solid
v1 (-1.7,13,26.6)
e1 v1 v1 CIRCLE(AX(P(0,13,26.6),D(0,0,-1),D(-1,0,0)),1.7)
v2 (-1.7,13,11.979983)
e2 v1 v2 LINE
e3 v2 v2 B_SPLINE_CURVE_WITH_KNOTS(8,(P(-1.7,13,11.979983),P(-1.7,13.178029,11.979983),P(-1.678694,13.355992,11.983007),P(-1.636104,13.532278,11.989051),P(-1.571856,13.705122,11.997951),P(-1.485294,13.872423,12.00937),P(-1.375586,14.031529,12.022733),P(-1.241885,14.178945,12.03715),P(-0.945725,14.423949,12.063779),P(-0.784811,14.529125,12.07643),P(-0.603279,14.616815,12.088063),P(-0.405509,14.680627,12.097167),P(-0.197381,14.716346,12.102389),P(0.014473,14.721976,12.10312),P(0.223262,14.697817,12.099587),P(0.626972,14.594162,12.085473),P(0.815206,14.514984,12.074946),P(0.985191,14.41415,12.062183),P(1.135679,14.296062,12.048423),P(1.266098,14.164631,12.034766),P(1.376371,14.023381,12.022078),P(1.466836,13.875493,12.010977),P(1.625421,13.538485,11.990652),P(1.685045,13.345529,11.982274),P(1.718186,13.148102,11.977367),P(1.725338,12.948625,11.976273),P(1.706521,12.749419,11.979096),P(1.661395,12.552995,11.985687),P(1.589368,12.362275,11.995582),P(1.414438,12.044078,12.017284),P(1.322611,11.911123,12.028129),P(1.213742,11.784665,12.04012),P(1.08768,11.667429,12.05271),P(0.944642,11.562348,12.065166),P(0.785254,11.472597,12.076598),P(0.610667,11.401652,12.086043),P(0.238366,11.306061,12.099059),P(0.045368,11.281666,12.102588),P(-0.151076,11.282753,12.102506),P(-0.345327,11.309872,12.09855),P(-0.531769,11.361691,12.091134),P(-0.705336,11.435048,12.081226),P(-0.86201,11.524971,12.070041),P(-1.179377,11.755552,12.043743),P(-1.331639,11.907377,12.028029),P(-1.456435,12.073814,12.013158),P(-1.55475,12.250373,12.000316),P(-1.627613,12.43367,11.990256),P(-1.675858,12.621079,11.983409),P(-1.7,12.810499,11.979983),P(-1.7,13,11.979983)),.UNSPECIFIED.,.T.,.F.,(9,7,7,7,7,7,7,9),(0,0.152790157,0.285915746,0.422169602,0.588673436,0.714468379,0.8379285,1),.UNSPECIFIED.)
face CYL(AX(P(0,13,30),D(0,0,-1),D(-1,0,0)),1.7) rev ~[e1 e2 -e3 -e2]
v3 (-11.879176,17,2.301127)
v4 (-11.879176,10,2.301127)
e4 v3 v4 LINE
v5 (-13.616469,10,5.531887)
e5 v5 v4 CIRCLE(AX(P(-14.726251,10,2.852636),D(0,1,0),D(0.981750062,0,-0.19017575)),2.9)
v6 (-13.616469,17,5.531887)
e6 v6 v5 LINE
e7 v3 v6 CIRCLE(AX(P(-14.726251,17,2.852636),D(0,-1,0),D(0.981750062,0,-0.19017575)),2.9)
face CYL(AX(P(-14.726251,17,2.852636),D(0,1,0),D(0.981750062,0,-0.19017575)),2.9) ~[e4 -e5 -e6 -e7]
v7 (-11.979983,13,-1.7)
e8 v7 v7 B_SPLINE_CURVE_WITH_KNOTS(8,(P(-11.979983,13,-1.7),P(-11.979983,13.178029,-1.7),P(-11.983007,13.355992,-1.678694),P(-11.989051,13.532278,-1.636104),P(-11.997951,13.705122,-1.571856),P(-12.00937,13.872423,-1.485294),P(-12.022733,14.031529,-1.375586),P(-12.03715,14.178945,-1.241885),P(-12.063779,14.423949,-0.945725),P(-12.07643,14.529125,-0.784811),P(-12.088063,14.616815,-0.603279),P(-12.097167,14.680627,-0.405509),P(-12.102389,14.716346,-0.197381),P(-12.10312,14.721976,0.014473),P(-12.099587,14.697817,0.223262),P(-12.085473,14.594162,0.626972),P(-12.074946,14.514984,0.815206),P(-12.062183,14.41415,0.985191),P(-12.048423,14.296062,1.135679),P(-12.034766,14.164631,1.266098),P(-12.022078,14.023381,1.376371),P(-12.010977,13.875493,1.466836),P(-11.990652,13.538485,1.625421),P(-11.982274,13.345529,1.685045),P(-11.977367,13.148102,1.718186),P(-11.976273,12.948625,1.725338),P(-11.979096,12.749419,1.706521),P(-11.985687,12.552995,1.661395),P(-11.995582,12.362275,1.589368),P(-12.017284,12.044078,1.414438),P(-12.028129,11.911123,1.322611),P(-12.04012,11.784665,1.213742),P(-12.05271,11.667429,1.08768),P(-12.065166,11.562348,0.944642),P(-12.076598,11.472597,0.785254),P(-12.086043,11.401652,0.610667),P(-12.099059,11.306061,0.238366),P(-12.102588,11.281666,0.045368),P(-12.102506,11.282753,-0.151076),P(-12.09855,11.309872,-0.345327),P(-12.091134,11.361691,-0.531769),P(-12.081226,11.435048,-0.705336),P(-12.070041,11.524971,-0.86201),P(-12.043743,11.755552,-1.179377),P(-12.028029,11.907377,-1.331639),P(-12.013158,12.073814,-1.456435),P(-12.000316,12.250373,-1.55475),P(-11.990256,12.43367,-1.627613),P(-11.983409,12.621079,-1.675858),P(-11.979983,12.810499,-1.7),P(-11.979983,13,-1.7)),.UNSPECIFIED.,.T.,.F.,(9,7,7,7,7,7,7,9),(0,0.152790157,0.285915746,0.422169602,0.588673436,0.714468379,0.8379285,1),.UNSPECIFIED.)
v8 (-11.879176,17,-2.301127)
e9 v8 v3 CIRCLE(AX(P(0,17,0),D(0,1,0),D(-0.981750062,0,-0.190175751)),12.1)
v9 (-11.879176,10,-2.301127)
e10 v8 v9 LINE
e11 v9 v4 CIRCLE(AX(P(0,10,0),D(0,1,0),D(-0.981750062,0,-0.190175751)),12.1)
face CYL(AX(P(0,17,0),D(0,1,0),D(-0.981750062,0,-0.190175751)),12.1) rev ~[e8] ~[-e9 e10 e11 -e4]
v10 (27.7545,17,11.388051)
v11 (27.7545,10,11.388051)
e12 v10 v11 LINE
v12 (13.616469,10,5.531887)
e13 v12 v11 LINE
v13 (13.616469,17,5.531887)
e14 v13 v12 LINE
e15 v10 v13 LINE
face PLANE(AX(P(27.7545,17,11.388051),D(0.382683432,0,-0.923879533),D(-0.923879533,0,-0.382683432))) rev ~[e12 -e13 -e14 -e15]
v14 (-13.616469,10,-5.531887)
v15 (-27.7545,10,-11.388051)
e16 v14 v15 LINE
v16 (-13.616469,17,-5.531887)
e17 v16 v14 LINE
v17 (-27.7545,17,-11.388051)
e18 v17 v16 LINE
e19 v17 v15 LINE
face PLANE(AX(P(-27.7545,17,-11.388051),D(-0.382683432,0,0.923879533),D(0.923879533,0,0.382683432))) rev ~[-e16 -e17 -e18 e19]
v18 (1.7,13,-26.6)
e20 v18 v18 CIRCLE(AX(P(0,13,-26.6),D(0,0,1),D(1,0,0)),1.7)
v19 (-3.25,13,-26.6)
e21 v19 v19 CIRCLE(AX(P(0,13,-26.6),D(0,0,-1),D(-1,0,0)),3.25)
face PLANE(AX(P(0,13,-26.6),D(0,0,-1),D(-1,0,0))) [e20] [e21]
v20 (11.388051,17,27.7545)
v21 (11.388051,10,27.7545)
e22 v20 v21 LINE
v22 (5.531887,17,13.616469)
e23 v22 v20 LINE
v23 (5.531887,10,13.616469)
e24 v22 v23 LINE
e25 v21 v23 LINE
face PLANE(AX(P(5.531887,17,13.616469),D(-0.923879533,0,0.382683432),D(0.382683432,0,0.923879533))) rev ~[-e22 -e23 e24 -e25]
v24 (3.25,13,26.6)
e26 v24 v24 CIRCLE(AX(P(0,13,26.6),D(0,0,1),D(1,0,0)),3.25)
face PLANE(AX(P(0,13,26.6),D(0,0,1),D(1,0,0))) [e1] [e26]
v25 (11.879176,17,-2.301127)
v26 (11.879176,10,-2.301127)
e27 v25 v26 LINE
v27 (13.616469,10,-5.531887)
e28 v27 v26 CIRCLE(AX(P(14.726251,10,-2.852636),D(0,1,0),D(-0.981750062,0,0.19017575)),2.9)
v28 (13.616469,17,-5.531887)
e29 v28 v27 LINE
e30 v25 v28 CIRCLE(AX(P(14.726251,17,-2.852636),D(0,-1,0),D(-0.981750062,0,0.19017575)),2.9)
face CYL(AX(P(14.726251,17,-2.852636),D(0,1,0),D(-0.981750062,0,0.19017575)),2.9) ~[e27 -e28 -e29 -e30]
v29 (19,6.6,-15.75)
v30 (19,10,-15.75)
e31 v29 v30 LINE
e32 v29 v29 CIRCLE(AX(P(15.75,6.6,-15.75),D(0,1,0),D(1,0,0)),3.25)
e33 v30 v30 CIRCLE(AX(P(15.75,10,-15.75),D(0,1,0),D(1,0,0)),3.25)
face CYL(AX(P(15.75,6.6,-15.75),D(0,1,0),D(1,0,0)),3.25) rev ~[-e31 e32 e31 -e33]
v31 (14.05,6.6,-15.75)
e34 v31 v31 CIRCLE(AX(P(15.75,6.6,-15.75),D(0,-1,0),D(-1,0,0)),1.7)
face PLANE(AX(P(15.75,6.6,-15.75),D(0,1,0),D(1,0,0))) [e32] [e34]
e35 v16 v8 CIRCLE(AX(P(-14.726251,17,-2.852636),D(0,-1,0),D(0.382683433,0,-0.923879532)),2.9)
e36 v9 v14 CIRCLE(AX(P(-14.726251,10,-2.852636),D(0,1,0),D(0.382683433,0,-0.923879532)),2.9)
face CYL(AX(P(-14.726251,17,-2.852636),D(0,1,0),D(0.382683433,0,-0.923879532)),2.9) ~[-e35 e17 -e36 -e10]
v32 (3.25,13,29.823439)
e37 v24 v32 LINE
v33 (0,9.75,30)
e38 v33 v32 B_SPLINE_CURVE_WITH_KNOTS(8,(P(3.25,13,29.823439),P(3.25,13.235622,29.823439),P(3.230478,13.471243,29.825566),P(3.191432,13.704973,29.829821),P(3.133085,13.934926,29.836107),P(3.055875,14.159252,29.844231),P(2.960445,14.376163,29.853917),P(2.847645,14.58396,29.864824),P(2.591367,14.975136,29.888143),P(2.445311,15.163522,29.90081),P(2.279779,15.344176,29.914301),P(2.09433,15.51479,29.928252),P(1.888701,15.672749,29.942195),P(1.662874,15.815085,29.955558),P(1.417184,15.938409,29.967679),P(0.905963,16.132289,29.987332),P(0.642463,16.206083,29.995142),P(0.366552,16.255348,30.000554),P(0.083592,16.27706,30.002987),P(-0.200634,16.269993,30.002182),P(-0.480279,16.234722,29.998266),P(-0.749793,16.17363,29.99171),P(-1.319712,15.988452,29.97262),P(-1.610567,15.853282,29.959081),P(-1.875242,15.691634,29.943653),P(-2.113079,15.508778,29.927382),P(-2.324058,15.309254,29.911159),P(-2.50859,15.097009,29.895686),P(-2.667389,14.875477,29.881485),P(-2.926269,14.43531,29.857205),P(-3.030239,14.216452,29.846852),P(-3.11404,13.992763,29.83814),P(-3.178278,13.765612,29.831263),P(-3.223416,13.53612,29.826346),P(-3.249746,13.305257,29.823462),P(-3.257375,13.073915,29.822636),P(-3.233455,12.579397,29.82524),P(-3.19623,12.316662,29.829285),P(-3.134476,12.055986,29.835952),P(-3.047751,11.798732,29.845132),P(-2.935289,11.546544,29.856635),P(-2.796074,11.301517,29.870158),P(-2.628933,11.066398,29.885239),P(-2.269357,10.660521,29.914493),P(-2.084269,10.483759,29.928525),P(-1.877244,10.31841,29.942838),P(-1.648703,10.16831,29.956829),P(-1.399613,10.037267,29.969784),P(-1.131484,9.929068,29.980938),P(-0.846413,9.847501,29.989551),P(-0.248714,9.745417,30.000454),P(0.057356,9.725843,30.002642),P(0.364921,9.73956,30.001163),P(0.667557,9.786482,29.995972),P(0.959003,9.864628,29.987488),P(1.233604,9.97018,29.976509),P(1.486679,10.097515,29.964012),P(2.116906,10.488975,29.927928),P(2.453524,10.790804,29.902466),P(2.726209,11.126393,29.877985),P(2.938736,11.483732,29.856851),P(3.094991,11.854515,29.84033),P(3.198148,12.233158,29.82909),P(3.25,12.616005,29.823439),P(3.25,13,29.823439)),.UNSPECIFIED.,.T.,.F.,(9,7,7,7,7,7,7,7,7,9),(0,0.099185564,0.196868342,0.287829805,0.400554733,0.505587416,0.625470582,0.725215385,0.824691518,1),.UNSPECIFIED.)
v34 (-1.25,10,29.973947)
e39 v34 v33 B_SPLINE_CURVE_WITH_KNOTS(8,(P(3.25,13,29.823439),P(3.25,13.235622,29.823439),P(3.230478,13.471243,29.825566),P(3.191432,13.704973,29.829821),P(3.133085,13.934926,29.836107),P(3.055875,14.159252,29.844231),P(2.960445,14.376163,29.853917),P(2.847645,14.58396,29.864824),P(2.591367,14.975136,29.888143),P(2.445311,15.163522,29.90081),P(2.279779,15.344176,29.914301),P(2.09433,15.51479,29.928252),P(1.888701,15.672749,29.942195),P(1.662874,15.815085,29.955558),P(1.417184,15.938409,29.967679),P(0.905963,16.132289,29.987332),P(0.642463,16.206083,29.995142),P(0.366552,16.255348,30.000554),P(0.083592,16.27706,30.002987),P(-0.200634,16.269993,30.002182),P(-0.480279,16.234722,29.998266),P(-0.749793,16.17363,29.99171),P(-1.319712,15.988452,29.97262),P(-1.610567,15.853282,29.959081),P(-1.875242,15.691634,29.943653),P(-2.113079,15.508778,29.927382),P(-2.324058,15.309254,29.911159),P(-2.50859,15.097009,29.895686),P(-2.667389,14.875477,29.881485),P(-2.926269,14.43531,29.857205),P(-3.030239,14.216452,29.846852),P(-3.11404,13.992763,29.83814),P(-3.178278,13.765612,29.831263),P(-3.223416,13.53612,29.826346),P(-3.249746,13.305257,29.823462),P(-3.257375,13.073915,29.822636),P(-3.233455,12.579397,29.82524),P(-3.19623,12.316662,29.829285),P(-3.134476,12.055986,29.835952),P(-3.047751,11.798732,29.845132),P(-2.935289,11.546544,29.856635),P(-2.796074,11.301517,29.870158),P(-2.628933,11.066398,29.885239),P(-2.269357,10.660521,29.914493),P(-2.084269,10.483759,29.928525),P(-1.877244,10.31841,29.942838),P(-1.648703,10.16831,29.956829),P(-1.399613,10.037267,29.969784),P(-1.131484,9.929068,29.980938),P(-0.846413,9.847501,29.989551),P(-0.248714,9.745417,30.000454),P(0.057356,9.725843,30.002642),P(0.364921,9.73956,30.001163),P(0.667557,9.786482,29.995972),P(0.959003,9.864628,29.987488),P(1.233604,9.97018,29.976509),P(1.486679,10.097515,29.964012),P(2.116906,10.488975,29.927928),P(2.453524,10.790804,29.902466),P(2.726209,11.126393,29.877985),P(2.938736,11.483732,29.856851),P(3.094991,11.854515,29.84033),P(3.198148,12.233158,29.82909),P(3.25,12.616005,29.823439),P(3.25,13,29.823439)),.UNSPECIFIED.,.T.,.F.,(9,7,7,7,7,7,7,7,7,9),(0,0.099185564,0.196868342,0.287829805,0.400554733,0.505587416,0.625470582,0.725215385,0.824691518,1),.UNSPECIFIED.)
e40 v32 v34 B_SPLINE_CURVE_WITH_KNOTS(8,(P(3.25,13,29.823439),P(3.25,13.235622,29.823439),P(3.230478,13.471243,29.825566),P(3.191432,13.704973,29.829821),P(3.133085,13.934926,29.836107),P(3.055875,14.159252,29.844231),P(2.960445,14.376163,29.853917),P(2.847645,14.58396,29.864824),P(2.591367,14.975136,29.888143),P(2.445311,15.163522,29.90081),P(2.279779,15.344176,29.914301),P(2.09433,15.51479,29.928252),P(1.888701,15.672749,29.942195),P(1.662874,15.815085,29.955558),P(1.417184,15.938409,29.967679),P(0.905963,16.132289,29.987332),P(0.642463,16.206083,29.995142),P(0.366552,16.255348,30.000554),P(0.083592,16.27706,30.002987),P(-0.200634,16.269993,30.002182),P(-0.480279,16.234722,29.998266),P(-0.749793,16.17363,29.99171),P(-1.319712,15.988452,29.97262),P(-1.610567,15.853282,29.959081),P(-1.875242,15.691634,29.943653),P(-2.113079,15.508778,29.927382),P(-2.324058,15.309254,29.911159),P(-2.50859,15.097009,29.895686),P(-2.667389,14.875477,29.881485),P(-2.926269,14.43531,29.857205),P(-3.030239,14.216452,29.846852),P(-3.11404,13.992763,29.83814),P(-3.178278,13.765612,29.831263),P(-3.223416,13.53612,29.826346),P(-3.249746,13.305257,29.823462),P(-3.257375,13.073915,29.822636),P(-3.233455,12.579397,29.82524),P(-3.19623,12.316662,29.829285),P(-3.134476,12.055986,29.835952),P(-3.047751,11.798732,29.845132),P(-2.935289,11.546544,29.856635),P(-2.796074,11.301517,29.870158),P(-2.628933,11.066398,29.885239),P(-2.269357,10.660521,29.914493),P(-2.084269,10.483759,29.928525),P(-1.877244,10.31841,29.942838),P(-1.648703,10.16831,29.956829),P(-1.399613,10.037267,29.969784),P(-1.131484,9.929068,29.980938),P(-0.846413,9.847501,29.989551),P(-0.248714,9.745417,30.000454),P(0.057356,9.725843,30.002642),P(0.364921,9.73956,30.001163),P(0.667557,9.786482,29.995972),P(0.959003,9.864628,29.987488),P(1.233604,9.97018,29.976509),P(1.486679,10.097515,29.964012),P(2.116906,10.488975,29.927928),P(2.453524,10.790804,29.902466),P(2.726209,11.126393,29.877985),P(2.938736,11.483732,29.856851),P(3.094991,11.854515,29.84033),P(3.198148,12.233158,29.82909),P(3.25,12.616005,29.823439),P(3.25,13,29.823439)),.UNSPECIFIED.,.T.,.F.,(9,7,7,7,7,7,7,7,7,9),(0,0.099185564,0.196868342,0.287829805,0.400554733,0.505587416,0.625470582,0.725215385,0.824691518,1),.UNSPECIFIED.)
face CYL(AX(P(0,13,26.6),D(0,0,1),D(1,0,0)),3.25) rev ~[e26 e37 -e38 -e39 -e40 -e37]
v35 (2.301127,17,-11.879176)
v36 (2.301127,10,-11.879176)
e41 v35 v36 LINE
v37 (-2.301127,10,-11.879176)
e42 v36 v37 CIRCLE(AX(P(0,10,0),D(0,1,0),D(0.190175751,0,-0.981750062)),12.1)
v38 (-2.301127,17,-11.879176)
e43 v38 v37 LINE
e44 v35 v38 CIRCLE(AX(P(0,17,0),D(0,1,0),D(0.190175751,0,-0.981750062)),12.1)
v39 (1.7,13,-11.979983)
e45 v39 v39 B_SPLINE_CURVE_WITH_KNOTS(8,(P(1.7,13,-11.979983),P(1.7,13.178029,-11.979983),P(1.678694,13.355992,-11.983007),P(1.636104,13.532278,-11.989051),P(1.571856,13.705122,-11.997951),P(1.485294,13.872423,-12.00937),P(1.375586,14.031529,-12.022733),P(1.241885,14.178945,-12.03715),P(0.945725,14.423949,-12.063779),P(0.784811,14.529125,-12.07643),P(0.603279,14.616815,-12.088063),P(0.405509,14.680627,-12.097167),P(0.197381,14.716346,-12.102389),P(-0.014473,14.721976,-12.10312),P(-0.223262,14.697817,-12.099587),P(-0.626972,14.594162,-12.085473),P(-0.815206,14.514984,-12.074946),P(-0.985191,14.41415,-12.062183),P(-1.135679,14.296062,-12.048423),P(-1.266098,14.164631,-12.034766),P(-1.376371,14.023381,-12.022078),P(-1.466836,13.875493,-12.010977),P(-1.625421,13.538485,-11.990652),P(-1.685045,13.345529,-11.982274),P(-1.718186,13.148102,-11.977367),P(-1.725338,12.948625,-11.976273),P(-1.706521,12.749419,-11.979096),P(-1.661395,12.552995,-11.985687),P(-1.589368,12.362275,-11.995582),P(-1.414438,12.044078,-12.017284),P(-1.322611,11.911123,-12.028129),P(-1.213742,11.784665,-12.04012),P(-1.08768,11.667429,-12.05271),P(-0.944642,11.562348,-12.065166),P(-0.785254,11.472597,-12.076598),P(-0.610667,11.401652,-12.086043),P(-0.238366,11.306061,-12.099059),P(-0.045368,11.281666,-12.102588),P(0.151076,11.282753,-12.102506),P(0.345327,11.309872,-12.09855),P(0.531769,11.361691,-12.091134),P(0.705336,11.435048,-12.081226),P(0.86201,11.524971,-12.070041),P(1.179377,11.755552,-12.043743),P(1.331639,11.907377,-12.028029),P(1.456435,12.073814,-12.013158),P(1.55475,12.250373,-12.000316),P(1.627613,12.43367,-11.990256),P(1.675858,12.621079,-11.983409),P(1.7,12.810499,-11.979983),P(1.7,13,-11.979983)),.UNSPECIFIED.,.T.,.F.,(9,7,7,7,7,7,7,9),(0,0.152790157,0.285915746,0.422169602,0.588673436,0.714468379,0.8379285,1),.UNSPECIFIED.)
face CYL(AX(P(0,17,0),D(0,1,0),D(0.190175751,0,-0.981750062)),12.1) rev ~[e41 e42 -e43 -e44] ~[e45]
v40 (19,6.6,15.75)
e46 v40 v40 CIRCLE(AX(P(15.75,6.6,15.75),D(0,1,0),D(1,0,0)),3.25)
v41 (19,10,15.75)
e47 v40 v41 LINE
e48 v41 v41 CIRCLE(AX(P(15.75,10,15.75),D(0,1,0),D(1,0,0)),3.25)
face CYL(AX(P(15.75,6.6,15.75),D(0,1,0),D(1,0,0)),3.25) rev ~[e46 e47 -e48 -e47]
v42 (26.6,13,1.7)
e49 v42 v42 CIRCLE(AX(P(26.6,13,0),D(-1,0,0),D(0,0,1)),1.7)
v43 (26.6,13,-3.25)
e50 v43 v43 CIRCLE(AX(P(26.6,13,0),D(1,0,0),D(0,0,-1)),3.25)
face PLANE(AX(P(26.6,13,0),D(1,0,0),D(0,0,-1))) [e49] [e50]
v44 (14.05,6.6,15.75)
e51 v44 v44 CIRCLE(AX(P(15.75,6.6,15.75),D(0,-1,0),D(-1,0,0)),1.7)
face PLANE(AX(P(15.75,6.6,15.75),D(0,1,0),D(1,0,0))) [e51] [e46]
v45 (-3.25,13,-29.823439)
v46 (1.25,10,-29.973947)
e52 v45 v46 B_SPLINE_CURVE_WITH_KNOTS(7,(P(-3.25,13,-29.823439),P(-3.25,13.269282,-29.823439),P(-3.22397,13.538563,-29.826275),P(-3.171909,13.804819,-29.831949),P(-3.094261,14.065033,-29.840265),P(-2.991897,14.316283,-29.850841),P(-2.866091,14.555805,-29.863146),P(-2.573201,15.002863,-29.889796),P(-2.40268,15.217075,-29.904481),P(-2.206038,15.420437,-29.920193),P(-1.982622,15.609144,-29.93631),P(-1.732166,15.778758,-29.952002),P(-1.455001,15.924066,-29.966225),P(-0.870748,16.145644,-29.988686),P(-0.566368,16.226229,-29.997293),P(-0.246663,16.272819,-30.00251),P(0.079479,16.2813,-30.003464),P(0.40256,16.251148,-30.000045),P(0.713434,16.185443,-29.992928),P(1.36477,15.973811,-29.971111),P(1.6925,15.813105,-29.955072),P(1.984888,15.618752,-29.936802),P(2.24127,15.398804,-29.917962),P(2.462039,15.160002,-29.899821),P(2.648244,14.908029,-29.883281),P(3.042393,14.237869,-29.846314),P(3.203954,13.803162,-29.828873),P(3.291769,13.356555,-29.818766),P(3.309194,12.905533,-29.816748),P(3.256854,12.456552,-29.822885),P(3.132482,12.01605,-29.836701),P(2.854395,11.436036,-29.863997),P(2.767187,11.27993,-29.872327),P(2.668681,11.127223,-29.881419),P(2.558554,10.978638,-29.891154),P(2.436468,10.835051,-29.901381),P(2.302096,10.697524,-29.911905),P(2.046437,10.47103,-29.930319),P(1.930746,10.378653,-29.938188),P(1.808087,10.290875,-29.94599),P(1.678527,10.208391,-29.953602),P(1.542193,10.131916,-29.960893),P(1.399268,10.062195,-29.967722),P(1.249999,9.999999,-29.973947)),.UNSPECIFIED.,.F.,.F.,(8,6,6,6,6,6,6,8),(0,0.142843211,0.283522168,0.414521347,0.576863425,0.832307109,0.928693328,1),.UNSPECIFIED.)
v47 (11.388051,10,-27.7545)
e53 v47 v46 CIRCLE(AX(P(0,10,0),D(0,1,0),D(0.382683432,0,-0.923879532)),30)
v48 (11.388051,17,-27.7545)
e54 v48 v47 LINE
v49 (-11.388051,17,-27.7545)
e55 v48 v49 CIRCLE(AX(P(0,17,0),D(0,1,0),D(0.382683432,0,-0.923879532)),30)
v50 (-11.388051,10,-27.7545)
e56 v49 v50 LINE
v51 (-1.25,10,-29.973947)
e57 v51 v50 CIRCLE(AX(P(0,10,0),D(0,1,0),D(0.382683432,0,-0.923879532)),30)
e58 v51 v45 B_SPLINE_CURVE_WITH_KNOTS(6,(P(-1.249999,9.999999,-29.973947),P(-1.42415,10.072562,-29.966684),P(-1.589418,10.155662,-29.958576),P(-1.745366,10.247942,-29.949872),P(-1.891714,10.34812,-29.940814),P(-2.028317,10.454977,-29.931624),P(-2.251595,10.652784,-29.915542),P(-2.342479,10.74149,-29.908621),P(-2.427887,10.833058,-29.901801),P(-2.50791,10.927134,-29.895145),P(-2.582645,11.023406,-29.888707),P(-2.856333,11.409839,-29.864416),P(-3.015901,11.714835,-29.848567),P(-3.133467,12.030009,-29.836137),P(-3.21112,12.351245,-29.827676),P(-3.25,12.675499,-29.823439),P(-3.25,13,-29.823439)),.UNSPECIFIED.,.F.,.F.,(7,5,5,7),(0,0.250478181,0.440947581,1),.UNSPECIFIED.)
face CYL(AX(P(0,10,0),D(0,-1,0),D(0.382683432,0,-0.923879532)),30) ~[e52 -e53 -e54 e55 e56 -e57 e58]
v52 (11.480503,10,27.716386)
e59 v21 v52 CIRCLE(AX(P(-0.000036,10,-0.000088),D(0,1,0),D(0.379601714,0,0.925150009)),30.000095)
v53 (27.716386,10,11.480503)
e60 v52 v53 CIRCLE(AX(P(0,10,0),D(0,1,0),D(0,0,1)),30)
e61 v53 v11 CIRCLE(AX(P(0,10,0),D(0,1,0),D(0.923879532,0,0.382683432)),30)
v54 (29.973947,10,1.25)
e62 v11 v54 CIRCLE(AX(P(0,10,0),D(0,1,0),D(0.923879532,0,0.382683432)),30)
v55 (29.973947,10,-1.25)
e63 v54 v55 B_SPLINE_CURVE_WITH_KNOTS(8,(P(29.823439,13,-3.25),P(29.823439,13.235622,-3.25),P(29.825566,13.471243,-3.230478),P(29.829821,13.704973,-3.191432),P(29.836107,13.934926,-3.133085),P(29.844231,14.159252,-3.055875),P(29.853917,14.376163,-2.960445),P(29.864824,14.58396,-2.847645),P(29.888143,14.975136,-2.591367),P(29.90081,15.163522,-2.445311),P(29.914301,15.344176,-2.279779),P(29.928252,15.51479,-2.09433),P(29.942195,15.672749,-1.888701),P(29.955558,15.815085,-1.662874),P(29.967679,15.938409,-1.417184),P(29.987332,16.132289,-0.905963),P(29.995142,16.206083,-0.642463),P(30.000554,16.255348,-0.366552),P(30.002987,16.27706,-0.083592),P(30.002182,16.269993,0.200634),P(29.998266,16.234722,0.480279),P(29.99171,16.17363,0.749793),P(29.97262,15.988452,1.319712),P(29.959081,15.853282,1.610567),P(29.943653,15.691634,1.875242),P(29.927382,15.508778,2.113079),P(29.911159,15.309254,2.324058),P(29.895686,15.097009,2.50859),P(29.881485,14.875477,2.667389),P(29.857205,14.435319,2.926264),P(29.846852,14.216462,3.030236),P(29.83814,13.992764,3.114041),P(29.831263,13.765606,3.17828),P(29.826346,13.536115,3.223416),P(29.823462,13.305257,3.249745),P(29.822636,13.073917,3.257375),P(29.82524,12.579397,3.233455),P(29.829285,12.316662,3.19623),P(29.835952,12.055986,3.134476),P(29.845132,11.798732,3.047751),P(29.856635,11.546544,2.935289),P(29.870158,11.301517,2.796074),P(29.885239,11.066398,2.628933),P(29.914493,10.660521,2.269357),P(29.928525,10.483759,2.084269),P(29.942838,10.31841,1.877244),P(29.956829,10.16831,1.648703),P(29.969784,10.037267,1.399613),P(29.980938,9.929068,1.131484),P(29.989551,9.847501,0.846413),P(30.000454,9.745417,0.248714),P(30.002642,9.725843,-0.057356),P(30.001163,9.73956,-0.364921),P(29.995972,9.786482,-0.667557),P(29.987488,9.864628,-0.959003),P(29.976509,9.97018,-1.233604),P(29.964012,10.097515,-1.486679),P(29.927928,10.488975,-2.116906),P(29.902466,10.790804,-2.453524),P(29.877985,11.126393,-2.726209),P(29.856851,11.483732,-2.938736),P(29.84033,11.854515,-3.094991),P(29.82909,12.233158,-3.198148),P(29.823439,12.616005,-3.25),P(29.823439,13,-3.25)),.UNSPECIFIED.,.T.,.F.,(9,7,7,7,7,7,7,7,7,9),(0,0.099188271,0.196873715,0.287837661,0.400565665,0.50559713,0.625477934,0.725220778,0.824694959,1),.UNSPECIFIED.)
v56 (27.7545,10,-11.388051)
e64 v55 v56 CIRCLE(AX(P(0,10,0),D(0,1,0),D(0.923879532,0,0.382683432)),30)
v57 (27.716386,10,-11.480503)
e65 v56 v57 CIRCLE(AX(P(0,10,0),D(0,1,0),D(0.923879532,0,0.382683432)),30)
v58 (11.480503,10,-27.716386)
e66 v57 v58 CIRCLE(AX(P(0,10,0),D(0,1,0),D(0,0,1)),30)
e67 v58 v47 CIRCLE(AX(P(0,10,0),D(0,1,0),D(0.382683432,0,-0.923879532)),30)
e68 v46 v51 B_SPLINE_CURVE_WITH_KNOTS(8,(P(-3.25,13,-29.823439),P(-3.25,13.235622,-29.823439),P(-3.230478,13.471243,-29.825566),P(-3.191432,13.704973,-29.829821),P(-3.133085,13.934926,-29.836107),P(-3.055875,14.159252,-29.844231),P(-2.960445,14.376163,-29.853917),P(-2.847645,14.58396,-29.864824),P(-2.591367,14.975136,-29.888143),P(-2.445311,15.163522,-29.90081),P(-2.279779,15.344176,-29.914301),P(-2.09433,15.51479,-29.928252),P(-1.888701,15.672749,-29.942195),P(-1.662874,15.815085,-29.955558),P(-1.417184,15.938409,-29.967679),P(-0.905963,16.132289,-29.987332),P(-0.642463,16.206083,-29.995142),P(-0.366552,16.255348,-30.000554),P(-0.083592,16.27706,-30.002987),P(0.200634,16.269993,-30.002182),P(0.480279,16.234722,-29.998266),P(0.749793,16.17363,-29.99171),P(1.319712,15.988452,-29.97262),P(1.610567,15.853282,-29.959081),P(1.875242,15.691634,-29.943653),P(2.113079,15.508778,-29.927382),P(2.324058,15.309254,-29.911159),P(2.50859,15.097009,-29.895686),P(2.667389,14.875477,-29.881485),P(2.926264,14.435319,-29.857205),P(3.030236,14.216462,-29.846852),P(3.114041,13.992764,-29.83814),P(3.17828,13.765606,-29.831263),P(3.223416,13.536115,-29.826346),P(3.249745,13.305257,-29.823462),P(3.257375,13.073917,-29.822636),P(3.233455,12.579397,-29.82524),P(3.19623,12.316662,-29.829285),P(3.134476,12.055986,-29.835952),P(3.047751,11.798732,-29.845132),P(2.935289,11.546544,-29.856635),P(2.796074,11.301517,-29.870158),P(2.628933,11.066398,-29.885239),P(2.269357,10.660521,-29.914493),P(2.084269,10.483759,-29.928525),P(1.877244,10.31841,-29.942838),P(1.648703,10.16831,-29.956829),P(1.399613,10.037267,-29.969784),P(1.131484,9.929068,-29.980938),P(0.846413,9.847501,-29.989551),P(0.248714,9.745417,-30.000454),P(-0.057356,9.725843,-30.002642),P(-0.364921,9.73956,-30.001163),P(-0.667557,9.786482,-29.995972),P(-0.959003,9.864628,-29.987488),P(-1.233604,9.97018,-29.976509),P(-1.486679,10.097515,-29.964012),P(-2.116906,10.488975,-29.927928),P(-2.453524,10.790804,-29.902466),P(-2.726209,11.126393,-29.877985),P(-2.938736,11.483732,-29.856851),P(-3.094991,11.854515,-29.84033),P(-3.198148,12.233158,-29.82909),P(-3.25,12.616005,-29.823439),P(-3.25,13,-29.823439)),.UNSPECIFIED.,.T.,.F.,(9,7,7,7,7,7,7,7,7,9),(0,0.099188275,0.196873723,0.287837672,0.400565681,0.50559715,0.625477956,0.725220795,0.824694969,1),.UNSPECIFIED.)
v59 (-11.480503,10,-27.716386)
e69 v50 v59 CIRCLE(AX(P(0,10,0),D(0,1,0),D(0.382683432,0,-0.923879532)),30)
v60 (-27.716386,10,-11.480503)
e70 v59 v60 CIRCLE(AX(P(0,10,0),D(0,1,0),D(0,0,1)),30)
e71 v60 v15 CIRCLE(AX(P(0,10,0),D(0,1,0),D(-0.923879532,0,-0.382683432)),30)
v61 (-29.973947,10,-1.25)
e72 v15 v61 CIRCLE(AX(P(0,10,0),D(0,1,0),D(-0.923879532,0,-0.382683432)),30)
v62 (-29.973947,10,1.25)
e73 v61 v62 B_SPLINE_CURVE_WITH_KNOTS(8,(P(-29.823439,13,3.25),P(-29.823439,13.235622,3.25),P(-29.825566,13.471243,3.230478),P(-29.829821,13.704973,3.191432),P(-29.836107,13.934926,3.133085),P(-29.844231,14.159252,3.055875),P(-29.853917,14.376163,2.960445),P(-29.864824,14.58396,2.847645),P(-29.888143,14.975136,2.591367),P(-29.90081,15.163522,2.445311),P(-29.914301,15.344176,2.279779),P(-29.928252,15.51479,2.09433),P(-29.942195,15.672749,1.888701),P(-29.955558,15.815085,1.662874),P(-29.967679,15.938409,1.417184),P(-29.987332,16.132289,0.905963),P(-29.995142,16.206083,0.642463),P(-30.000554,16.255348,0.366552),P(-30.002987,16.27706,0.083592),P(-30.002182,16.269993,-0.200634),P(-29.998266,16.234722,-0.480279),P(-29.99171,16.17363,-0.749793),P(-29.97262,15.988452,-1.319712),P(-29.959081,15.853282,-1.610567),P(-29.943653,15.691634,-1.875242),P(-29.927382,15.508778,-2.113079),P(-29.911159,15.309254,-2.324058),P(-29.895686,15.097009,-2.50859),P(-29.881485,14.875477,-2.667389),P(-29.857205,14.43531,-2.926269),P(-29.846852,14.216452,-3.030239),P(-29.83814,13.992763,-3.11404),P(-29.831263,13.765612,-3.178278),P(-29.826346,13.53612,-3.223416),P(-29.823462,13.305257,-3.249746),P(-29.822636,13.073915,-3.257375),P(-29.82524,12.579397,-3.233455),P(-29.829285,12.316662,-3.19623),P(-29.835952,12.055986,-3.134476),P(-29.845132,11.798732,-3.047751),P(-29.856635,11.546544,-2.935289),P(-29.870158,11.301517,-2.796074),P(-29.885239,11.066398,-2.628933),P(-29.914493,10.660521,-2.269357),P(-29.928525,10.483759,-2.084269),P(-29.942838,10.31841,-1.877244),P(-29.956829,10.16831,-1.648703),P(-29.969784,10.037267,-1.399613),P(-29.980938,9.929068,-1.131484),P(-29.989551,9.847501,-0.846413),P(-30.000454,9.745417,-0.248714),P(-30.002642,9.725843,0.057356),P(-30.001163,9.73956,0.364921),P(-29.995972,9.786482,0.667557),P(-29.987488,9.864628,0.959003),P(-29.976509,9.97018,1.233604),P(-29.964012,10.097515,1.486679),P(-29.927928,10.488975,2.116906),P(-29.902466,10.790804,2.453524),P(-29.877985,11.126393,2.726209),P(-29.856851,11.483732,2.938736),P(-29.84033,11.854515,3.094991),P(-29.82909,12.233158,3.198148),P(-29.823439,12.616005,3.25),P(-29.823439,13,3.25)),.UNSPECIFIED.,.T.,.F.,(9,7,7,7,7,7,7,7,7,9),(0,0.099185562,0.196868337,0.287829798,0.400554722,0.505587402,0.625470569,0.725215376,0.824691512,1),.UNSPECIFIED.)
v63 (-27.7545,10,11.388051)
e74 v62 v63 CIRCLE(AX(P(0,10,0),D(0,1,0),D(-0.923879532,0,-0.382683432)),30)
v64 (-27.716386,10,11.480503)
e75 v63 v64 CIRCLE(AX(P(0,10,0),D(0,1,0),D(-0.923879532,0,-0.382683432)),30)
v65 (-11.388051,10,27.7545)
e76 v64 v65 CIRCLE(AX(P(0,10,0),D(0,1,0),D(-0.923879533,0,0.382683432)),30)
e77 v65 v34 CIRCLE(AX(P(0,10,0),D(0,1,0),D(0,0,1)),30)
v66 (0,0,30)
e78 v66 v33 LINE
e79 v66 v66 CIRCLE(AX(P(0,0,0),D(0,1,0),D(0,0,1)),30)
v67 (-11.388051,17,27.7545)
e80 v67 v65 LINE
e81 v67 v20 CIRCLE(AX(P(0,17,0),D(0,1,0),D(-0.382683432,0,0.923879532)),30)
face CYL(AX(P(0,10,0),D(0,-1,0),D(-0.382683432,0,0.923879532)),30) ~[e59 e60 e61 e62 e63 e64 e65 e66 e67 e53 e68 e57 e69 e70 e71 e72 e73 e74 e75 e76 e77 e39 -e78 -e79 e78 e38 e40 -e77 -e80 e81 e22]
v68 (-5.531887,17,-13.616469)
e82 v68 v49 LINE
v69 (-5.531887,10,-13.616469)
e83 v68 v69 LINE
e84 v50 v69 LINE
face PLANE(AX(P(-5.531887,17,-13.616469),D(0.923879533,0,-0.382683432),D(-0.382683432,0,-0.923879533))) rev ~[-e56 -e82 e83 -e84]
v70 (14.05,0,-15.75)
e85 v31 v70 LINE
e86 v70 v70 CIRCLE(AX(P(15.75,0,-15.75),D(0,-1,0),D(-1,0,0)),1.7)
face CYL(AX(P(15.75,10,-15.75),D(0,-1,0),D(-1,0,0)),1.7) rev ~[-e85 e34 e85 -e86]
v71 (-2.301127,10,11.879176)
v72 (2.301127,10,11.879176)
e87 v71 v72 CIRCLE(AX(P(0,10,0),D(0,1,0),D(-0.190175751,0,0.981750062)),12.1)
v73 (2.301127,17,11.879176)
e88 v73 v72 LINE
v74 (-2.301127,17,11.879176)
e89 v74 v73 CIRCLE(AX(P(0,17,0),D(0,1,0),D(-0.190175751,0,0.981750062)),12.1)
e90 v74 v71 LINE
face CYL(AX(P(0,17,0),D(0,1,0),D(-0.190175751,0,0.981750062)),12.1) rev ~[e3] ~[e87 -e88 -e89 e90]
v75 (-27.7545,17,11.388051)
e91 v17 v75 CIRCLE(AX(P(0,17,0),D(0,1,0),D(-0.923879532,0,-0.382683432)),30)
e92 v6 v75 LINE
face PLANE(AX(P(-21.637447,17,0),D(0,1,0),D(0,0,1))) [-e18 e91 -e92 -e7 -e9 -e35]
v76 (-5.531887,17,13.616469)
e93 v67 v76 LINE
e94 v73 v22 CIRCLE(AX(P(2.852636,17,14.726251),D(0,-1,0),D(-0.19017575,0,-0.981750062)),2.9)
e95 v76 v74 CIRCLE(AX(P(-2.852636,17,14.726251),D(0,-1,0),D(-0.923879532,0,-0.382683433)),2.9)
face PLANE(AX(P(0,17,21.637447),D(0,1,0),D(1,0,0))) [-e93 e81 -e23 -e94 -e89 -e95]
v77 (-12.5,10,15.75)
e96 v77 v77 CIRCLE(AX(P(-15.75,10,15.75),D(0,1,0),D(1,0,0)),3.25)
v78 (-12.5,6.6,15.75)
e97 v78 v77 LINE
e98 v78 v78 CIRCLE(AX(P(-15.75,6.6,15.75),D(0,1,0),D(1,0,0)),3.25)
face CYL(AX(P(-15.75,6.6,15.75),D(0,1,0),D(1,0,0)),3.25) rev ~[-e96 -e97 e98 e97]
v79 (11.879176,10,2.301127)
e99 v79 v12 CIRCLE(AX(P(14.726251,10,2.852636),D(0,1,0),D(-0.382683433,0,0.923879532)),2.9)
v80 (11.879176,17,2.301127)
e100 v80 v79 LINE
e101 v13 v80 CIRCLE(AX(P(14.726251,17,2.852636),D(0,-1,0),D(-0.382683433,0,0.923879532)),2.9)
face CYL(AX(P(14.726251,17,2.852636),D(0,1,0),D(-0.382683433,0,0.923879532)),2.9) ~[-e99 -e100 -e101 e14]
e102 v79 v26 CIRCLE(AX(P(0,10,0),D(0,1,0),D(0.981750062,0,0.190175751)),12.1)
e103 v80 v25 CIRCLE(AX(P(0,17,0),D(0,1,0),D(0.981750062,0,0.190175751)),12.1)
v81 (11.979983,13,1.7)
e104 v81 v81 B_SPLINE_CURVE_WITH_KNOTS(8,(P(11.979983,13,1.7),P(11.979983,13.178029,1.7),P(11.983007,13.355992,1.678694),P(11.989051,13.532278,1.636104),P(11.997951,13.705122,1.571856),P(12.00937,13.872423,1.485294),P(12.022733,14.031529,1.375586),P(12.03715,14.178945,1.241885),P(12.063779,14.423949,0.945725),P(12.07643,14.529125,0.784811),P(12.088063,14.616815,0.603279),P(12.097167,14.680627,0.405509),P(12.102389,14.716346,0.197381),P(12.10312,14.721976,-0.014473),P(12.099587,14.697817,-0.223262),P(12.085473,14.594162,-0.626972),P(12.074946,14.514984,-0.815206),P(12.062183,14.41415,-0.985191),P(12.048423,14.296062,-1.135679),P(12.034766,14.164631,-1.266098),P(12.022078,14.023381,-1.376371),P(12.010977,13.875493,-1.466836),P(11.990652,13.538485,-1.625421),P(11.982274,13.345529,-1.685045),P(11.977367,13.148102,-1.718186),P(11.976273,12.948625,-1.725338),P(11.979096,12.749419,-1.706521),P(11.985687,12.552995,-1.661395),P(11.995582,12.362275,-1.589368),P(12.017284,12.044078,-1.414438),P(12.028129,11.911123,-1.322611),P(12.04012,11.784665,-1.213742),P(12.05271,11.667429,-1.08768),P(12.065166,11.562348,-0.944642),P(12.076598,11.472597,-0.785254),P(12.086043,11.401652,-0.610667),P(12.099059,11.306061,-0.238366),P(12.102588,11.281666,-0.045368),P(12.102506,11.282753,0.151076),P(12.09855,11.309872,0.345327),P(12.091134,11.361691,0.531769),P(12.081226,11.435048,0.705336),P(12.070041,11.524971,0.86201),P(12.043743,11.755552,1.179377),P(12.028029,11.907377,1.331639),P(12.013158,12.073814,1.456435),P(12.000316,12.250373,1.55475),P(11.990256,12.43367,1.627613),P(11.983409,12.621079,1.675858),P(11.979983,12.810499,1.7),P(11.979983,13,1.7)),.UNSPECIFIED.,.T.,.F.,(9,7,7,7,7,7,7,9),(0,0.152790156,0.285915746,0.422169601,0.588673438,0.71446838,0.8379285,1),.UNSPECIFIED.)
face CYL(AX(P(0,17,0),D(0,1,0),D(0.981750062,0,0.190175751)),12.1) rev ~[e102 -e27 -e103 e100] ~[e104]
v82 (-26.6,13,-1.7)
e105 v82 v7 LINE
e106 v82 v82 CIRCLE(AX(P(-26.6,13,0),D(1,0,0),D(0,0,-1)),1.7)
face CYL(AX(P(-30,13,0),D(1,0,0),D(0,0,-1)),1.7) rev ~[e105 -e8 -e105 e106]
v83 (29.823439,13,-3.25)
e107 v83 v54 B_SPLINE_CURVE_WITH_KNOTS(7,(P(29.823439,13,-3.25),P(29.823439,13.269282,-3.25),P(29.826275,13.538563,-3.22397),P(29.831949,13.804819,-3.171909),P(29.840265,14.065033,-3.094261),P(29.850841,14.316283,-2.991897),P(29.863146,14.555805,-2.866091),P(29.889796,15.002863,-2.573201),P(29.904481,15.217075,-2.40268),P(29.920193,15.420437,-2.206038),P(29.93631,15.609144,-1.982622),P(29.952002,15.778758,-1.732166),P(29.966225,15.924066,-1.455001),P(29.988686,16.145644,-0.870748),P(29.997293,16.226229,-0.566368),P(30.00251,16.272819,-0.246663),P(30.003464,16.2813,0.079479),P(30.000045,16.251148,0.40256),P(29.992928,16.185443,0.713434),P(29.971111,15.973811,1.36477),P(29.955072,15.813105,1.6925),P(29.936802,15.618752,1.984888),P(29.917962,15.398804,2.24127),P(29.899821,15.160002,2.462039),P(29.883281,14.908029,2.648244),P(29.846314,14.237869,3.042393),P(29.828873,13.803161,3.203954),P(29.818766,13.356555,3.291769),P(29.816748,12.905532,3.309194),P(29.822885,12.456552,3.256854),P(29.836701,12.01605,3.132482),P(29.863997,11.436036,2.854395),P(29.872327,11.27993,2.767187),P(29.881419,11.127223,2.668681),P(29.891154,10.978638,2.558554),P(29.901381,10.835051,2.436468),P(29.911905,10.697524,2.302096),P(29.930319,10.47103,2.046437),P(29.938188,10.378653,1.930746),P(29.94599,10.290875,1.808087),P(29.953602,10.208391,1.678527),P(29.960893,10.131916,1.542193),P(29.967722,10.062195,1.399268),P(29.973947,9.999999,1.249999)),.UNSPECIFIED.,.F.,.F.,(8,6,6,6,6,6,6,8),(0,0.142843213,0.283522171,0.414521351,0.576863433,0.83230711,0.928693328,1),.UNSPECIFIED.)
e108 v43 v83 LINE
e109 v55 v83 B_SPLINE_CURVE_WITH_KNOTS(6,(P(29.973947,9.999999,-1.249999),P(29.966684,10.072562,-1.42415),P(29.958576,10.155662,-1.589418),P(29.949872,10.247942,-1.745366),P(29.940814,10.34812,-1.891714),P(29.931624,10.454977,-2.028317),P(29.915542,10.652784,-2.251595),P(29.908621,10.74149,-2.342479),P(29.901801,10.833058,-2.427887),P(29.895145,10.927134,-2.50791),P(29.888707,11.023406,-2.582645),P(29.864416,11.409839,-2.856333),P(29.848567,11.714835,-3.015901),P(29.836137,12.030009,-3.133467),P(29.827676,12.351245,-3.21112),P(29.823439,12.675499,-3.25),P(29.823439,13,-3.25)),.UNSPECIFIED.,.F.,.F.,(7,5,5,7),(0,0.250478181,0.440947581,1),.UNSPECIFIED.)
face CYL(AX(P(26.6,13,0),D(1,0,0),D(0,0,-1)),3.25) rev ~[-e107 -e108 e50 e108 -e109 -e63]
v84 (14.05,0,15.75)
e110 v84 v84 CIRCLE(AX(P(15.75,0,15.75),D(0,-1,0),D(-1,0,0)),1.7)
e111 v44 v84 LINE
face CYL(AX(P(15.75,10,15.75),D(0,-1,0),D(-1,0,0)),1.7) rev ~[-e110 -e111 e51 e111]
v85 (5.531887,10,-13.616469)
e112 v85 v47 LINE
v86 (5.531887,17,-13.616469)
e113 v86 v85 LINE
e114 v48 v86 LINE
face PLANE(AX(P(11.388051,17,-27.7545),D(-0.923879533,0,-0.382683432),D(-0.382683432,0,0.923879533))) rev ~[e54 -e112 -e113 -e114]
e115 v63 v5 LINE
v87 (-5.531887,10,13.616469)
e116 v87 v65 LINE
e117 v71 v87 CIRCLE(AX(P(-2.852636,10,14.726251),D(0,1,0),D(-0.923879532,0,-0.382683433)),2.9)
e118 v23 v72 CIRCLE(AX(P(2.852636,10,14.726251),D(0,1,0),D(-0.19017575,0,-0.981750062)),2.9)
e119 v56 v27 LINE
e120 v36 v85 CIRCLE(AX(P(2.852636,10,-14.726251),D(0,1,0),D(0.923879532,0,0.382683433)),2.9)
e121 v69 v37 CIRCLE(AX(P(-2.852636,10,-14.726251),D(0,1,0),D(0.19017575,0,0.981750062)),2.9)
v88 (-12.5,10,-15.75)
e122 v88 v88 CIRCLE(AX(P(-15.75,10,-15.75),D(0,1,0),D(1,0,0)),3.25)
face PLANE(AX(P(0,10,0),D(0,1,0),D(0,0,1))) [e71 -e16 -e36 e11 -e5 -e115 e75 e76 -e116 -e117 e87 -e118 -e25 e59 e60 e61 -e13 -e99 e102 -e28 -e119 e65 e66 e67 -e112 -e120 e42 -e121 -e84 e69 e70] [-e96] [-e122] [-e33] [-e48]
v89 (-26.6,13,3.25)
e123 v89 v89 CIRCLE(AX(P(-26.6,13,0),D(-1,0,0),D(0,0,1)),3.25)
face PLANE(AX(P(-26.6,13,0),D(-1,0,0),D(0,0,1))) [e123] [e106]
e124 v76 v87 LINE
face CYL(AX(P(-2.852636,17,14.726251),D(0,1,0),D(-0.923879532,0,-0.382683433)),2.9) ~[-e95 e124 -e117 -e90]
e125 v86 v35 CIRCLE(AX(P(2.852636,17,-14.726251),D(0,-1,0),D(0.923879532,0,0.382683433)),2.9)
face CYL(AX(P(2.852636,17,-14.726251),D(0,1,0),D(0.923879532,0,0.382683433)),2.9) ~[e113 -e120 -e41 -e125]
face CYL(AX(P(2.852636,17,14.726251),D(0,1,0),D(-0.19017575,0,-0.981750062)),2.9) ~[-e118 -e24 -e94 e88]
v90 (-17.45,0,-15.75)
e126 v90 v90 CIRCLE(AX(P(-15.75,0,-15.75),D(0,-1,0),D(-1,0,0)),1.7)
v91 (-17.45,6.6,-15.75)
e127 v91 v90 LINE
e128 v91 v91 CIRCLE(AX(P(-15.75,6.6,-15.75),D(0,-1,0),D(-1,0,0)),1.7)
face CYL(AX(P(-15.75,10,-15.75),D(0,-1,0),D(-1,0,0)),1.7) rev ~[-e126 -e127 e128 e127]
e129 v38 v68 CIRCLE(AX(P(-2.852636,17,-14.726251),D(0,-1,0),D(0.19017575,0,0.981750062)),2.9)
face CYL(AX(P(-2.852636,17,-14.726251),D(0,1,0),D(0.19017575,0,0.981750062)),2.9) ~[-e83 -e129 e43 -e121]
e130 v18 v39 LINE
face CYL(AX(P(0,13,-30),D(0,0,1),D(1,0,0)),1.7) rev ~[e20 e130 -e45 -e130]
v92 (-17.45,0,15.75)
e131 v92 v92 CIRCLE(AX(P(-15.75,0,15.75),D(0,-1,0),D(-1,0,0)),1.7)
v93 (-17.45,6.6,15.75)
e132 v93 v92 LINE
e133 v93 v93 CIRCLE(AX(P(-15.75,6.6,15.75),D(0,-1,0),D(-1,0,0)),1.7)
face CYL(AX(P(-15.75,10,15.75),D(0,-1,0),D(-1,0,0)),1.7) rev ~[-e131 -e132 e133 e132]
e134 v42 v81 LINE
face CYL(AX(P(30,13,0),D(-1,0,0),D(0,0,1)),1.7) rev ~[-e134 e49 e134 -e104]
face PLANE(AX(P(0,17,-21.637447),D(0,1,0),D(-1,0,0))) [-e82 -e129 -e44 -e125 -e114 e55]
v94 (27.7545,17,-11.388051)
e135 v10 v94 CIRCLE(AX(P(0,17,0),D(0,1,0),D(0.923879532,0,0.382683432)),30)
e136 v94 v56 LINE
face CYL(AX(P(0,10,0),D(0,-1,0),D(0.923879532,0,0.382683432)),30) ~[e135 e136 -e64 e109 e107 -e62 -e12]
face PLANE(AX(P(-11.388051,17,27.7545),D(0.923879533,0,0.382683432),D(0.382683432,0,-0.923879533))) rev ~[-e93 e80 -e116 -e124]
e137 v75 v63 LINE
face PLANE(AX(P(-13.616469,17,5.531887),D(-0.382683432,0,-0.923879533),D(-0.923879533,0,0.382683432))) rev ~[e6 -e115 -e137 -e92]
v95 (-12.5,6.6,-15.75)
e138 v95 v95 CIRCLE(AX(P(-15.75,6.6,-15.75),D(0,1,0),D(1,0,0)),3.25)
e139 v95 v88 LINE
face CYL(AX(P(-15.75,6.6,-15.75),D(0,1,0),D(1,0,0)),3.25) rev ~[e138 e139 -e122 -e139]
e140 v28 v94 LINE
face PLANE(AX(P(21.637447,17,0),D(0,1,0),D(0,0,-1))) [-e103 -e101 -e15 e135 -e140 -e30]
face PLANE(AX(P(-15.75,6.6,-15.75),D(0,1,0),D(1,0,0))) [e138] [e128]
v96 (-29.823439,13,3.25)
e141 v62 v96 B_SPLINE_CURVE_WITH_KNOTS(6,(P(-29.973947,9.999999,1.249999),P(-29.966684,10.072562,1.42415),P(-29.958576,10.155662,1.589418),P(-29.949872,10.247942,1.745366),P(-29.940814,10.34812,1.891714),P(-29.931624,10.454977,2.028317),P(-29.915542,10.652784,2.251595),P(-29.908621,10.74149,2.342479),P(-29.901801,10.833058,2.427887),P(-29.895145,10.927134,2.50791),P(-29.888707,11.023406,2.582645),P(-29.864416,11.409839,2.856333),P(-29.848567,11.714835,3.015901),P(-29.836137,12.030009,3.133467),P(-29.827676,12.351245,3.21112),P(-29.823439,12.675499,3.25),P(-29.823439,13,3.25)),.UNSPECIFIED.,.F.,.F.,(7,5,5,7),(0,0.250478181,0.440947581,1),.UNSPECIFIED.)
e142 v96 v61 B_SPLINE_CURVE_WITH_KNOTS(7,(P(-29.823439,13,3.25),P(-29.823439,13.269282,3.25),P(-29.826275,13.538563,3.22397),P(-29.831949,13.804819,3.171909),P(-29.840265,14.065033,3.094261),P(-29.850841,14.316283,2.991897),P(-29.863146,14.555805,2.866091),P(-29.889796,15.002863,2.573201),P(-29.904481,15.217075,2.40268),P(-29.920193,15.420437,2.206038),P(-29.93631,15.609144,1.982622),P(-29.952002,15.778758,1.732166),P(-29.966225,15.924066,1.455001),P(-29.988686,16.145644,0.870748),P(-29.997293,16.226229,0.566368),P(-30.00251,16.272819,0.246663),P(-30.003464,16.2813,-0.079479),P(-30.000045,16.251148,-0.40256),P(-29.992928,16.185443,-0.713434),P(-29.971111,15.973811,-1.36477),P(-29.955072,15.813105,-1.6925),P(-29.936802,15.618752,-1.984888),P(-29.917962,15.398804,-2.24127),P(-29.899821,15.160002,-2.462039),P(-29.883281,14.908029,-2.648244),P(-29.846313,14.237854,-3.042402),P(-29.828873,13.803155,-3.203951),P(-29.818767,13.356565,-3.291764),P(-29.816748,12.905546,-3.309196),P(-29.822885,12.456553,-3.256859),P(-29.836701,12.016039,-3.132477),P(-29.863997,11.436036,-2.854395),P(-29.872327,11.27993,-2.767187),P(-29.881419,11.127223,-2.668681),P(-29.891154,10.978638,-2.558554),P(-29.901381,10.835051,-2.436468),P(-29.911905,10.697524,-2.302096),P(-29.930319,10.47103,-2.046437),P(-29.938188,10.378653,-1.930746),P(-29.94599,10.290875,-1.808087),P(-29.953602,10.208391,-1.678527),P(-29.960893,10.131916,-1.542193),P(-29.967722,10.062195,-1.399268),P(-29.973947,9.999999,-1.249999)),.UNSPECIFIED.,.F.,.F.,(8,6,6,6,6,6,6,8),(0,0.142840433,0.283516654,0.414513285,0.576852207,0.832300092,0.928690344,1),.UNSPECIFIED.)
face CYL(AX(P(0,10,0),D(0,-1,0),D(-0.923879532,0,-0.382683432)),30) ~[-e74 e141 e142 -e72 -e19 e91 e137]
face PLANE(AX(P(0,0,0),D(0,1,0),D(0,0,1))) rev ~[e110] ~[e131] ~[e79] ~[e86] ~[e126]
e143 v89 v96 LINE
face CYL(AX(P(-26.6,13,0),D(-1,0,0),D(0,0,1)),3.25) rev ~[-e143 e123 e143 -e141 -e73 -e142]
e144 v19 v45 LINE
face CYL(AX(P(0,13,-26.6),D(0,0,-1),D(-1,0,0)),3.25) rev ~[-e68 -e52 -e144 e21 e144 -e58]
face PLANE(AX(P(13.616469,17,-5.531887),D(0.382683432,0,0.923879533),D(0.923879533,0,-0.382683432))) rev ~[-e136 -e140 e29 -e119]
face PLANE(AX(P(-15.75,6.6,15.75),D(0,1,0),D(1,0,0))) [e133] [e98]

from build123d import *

# Parameters (mm, degrees)
SKETCH1_R                                           = 30
BOSS_EXTRUDE1_DEPTH                                 = 10
CBORE_FOR_M3_HEX_SOCKET_HEAD_CAP_SCREW1_D           = 3.4
CBORE_FOR_M3_HEX_SOCKET_HEAD_CAP_SCREW1_CBORE_D     = 6.5
CBORE_FOR_M3_HEX_SOCKET_HEAD_CAP_SCREW1_CBORE_DEPTH = 3.4
BOSS_EXTRUDE2_DEPTH                                 = 7
CBORE_FOR_M3_HEX_SOCKET_HEAD_CAP_SCREW2_D           = 3.4
CBORE_FOR_M3_HEX_SOCKET_HEAD_CAP_SCREW2_DEPTH       = 18.91444561
CBORE_FOR_M3_HEX_SOCKET_HEAD_CAP_SCREW2_CBORE_D     = 6.5
CBORE_FOR_M3_HEX_SOCKET_HEAD_CAP_SCREW2_CBORE_DEPTH = 3.4
CIRPATTERN1_COUNT                                   = 4
FILLET1_R                                           = 3
CUT_EXTRUDE1_REACH                                  = 47.706
CIRPATTERN2_COUNT                                   = 4


with BuildPart() as part:
    # Sketch1 → Boss-Extrude1 (new body)
    with BuildSketch(Plane(origin=(0, 0, 0), x_dir=(1, 0, 0), z_dir=(0, 1, 0))):
        with Locations(Location((0, 0, 0), (0, 0, 270))):
            Circle(SKETCH1_R)
    extrude(amount=BOSS_EXTRUDE1_DEPTH)

    # CBORE for M3 Hex Socket Head Cap Screw1 (through all)
    with Locations(Plane(origin=(0, 10, 0), x_dir=(1, 0, 0), z_dir=(0, 1, 0))):
        with Locations((15.75, -15.75), (15.75, 15.75), (-15.75, 15.75), (-15.75, -15.75)):
            CounterBoreHole(CBORE_FOR_M3_HEX_SOCKET_HEAD_CAP_SCREW1_D / 2, CBORE_FOR_M3_HEX_SOCKET_HEAD_CAP_SCREW1_CBORE_D / 2, CBORE_FOR_M3_HEX_SOCKET_HEAD_CAP_SCREW1_CBORE_DEPTH)

    # Sketch5 → Boss-Extrude2 (add)
    with BuildSketch(Plane(origin=(0, 10, 0), x_dir=(1, 0, 0), z_dir=(0, 1, 0))):
        with BuildLine():
            ThreePointArc((4.592201188, -11.08655439), (0, -12), (-4.592201188, -11.08655439))
            Line((-4.592201188, -11.08655439), (-11.480502971, -27.716385975))
            ThreePointArc((-11.480502971, -27.716385975), (0, -30), (11.480502971, -27.716385975))
            Line((11.480502971, -27.716385975), (4.592201188, -11.08655439))
        make_face()
    boss_extrude2 = extrude(amount=BOSS_EXTRUDE2_DEPTH)

    # CBORE for M3 Hex Socket Head Cap Screw2
    with Locations(Plane.XY.offset(30)):
        with Locations((0, 13)):
            cbore_for_m3_hex_socket_head_cap_screw2 = CounterBoreHole(CBORE_FOR_M3_HEX_SOCKET_HEAD_CAP_SCREW2_D / 2, CBORE_FOR_M3_HEX_SOCKET_HEAD_CAP_SCREW2_CBORE_D / 2, CBORE_FOR_M3_HEX_SOCKET_HEAD_CAP_SCREW2_CBORE_DEPTH, depth=CBORE_FOR_M3_HEX_SOCKET_HEAD_CAP_SCREW2_DEPTH)

    # CirPattern1: Boss-Extrude2, CBORE for M3 Hex Socket Head Cap Screw2 ×4 about axis
    cirpattern1_axis = Axis((0, 0, 0), (0, 1, 0))
    add([boss_extrude2.rotate(cirpattern1_axis, i * 360 / CIRPATTERN1_COUNT) for i in range(1, CIRPATTERN1_COUNT)])
    add([cbore_for_m3_hex_socket_head_cap_screw2.rotate(cirpattern1_axis, i * 360 / CIRPATTERN1_COUNT) for i in range(1, CIRPATTERN1_COUNT)], mode=Mode.SUBTRACT)

    # Fillet1
    fillet1_edges = [part.edges().sort_by_distance(p)[0] for p in [
        (4.592201188, 13.5, 11.08655439),
        (-4.592201188, 13.5, 11.08655439),
        (11.08655439, 13.5, -4.592201188),
        (11.08655439, 13.5, 4.592201188),
        (-4.592201188, 13.5, -11.08655439),
        (4.592201188, 13.5, -11.08655439),
        (-11.08655439, 13.5, 4.592201188),
        (-11.08655439, 13.5, -4.592201188),
    ]]
    fillet(fillet1_edges, radius=FILLET1_R)

    # Cut-Extrude1: up to this face of the body (flat: up to its plane)
    cut_extrude1_end = Plane(part.part.faces().sort_by_distance((0, 10, 0))[0])
    # Sketch8 → Cut-Extrude1 (cut, up to the picked face)
    with BuildSketch(Plane(origin=(0, 17, 0), x_dir=(1, 0, 0), z_dir=(0, 1, 0)), mode=Mode.PRIVATE) as cut_extrude1_sk1:
        with BuildLine():
            Line((-13.616468974, -5.531886901), (-27.754500338, -11.388051237))
            ThreePointArc((-27.754500338, -11.388051237), (-27.735481678, -11.434292985), (-27.716385975, -11.480502971))
            Line((-27.716385975, -11.480502971), (-13.578200631, -5.624274854))
            ThreePointArc((-13.578200631, -5.624274854), (-12.084036828, -4.273447521), (-11.781000742, -2.282109005))
            ThreePointArc((-11.781000742, -2.282109005), (-12, 0), (-11.781000742, 2.282109005))
            ThreePointArc((-11.781000742, 2.282109005), (-12.084036828, 4.273447521), (-13.578200631, 5.624274854))
            Line((-13.578200631, 5.624274854), (-27.716385975, 11.480502971))
            ThreePointArc((-27.716385975, 11.480502971), (-27.735481678, 11.434292985), (-27.754500338, 11.388051237))
            Line((-27.754500338, 11.388051237), (-13.616468974, 5.531886901))
            ThreePointArc((-13.616468974, 5.531886901), (-12.172110631, 4.226087145), (-11.879175748, 2.30112658))
            ThreePointArc((-11.879175748, 2.30112658), (-12.1, 0), (-11.879175748, -2.30112658))
            ThreePointArc((-11.879175748, -2.30112658), (-12.172110631, -4.226087145), (-13.616468974, -5.531886901))
        make_face()
    cut_extrude1_tool1 = split(extrude(cut_extrude1_sk1.sketch, amount=-CUT_EXTRUDE1_REACH, mode=Mode.PRIVATE), bisect_by=cut_extrude1_end, keep=Keep.BOTH, mode=Mode.PRIVATE)
    cut_extrude1 = cut_extrude1_tool1.solids().sort_by(Axis((-12.147448, 17, 4.239349), (0, -1, 0)))[0]
    add(cut_extrude1, mode=Mode.SUBTRACT)

    # CirPattern2: Cut-Extrude1 ×4 about axis
    cirpattern2_axis = Axis((0, 0, 0), (0, 1, 0))
    for i in range(1, CIRPATTERN2_COUNT):
        add(cut_extrude1.rotate(cirpattern2_axis, i * 360 / CIRPATTERN2_COUNT), mode=Mode.SUBTRACT)


solid = part.part
